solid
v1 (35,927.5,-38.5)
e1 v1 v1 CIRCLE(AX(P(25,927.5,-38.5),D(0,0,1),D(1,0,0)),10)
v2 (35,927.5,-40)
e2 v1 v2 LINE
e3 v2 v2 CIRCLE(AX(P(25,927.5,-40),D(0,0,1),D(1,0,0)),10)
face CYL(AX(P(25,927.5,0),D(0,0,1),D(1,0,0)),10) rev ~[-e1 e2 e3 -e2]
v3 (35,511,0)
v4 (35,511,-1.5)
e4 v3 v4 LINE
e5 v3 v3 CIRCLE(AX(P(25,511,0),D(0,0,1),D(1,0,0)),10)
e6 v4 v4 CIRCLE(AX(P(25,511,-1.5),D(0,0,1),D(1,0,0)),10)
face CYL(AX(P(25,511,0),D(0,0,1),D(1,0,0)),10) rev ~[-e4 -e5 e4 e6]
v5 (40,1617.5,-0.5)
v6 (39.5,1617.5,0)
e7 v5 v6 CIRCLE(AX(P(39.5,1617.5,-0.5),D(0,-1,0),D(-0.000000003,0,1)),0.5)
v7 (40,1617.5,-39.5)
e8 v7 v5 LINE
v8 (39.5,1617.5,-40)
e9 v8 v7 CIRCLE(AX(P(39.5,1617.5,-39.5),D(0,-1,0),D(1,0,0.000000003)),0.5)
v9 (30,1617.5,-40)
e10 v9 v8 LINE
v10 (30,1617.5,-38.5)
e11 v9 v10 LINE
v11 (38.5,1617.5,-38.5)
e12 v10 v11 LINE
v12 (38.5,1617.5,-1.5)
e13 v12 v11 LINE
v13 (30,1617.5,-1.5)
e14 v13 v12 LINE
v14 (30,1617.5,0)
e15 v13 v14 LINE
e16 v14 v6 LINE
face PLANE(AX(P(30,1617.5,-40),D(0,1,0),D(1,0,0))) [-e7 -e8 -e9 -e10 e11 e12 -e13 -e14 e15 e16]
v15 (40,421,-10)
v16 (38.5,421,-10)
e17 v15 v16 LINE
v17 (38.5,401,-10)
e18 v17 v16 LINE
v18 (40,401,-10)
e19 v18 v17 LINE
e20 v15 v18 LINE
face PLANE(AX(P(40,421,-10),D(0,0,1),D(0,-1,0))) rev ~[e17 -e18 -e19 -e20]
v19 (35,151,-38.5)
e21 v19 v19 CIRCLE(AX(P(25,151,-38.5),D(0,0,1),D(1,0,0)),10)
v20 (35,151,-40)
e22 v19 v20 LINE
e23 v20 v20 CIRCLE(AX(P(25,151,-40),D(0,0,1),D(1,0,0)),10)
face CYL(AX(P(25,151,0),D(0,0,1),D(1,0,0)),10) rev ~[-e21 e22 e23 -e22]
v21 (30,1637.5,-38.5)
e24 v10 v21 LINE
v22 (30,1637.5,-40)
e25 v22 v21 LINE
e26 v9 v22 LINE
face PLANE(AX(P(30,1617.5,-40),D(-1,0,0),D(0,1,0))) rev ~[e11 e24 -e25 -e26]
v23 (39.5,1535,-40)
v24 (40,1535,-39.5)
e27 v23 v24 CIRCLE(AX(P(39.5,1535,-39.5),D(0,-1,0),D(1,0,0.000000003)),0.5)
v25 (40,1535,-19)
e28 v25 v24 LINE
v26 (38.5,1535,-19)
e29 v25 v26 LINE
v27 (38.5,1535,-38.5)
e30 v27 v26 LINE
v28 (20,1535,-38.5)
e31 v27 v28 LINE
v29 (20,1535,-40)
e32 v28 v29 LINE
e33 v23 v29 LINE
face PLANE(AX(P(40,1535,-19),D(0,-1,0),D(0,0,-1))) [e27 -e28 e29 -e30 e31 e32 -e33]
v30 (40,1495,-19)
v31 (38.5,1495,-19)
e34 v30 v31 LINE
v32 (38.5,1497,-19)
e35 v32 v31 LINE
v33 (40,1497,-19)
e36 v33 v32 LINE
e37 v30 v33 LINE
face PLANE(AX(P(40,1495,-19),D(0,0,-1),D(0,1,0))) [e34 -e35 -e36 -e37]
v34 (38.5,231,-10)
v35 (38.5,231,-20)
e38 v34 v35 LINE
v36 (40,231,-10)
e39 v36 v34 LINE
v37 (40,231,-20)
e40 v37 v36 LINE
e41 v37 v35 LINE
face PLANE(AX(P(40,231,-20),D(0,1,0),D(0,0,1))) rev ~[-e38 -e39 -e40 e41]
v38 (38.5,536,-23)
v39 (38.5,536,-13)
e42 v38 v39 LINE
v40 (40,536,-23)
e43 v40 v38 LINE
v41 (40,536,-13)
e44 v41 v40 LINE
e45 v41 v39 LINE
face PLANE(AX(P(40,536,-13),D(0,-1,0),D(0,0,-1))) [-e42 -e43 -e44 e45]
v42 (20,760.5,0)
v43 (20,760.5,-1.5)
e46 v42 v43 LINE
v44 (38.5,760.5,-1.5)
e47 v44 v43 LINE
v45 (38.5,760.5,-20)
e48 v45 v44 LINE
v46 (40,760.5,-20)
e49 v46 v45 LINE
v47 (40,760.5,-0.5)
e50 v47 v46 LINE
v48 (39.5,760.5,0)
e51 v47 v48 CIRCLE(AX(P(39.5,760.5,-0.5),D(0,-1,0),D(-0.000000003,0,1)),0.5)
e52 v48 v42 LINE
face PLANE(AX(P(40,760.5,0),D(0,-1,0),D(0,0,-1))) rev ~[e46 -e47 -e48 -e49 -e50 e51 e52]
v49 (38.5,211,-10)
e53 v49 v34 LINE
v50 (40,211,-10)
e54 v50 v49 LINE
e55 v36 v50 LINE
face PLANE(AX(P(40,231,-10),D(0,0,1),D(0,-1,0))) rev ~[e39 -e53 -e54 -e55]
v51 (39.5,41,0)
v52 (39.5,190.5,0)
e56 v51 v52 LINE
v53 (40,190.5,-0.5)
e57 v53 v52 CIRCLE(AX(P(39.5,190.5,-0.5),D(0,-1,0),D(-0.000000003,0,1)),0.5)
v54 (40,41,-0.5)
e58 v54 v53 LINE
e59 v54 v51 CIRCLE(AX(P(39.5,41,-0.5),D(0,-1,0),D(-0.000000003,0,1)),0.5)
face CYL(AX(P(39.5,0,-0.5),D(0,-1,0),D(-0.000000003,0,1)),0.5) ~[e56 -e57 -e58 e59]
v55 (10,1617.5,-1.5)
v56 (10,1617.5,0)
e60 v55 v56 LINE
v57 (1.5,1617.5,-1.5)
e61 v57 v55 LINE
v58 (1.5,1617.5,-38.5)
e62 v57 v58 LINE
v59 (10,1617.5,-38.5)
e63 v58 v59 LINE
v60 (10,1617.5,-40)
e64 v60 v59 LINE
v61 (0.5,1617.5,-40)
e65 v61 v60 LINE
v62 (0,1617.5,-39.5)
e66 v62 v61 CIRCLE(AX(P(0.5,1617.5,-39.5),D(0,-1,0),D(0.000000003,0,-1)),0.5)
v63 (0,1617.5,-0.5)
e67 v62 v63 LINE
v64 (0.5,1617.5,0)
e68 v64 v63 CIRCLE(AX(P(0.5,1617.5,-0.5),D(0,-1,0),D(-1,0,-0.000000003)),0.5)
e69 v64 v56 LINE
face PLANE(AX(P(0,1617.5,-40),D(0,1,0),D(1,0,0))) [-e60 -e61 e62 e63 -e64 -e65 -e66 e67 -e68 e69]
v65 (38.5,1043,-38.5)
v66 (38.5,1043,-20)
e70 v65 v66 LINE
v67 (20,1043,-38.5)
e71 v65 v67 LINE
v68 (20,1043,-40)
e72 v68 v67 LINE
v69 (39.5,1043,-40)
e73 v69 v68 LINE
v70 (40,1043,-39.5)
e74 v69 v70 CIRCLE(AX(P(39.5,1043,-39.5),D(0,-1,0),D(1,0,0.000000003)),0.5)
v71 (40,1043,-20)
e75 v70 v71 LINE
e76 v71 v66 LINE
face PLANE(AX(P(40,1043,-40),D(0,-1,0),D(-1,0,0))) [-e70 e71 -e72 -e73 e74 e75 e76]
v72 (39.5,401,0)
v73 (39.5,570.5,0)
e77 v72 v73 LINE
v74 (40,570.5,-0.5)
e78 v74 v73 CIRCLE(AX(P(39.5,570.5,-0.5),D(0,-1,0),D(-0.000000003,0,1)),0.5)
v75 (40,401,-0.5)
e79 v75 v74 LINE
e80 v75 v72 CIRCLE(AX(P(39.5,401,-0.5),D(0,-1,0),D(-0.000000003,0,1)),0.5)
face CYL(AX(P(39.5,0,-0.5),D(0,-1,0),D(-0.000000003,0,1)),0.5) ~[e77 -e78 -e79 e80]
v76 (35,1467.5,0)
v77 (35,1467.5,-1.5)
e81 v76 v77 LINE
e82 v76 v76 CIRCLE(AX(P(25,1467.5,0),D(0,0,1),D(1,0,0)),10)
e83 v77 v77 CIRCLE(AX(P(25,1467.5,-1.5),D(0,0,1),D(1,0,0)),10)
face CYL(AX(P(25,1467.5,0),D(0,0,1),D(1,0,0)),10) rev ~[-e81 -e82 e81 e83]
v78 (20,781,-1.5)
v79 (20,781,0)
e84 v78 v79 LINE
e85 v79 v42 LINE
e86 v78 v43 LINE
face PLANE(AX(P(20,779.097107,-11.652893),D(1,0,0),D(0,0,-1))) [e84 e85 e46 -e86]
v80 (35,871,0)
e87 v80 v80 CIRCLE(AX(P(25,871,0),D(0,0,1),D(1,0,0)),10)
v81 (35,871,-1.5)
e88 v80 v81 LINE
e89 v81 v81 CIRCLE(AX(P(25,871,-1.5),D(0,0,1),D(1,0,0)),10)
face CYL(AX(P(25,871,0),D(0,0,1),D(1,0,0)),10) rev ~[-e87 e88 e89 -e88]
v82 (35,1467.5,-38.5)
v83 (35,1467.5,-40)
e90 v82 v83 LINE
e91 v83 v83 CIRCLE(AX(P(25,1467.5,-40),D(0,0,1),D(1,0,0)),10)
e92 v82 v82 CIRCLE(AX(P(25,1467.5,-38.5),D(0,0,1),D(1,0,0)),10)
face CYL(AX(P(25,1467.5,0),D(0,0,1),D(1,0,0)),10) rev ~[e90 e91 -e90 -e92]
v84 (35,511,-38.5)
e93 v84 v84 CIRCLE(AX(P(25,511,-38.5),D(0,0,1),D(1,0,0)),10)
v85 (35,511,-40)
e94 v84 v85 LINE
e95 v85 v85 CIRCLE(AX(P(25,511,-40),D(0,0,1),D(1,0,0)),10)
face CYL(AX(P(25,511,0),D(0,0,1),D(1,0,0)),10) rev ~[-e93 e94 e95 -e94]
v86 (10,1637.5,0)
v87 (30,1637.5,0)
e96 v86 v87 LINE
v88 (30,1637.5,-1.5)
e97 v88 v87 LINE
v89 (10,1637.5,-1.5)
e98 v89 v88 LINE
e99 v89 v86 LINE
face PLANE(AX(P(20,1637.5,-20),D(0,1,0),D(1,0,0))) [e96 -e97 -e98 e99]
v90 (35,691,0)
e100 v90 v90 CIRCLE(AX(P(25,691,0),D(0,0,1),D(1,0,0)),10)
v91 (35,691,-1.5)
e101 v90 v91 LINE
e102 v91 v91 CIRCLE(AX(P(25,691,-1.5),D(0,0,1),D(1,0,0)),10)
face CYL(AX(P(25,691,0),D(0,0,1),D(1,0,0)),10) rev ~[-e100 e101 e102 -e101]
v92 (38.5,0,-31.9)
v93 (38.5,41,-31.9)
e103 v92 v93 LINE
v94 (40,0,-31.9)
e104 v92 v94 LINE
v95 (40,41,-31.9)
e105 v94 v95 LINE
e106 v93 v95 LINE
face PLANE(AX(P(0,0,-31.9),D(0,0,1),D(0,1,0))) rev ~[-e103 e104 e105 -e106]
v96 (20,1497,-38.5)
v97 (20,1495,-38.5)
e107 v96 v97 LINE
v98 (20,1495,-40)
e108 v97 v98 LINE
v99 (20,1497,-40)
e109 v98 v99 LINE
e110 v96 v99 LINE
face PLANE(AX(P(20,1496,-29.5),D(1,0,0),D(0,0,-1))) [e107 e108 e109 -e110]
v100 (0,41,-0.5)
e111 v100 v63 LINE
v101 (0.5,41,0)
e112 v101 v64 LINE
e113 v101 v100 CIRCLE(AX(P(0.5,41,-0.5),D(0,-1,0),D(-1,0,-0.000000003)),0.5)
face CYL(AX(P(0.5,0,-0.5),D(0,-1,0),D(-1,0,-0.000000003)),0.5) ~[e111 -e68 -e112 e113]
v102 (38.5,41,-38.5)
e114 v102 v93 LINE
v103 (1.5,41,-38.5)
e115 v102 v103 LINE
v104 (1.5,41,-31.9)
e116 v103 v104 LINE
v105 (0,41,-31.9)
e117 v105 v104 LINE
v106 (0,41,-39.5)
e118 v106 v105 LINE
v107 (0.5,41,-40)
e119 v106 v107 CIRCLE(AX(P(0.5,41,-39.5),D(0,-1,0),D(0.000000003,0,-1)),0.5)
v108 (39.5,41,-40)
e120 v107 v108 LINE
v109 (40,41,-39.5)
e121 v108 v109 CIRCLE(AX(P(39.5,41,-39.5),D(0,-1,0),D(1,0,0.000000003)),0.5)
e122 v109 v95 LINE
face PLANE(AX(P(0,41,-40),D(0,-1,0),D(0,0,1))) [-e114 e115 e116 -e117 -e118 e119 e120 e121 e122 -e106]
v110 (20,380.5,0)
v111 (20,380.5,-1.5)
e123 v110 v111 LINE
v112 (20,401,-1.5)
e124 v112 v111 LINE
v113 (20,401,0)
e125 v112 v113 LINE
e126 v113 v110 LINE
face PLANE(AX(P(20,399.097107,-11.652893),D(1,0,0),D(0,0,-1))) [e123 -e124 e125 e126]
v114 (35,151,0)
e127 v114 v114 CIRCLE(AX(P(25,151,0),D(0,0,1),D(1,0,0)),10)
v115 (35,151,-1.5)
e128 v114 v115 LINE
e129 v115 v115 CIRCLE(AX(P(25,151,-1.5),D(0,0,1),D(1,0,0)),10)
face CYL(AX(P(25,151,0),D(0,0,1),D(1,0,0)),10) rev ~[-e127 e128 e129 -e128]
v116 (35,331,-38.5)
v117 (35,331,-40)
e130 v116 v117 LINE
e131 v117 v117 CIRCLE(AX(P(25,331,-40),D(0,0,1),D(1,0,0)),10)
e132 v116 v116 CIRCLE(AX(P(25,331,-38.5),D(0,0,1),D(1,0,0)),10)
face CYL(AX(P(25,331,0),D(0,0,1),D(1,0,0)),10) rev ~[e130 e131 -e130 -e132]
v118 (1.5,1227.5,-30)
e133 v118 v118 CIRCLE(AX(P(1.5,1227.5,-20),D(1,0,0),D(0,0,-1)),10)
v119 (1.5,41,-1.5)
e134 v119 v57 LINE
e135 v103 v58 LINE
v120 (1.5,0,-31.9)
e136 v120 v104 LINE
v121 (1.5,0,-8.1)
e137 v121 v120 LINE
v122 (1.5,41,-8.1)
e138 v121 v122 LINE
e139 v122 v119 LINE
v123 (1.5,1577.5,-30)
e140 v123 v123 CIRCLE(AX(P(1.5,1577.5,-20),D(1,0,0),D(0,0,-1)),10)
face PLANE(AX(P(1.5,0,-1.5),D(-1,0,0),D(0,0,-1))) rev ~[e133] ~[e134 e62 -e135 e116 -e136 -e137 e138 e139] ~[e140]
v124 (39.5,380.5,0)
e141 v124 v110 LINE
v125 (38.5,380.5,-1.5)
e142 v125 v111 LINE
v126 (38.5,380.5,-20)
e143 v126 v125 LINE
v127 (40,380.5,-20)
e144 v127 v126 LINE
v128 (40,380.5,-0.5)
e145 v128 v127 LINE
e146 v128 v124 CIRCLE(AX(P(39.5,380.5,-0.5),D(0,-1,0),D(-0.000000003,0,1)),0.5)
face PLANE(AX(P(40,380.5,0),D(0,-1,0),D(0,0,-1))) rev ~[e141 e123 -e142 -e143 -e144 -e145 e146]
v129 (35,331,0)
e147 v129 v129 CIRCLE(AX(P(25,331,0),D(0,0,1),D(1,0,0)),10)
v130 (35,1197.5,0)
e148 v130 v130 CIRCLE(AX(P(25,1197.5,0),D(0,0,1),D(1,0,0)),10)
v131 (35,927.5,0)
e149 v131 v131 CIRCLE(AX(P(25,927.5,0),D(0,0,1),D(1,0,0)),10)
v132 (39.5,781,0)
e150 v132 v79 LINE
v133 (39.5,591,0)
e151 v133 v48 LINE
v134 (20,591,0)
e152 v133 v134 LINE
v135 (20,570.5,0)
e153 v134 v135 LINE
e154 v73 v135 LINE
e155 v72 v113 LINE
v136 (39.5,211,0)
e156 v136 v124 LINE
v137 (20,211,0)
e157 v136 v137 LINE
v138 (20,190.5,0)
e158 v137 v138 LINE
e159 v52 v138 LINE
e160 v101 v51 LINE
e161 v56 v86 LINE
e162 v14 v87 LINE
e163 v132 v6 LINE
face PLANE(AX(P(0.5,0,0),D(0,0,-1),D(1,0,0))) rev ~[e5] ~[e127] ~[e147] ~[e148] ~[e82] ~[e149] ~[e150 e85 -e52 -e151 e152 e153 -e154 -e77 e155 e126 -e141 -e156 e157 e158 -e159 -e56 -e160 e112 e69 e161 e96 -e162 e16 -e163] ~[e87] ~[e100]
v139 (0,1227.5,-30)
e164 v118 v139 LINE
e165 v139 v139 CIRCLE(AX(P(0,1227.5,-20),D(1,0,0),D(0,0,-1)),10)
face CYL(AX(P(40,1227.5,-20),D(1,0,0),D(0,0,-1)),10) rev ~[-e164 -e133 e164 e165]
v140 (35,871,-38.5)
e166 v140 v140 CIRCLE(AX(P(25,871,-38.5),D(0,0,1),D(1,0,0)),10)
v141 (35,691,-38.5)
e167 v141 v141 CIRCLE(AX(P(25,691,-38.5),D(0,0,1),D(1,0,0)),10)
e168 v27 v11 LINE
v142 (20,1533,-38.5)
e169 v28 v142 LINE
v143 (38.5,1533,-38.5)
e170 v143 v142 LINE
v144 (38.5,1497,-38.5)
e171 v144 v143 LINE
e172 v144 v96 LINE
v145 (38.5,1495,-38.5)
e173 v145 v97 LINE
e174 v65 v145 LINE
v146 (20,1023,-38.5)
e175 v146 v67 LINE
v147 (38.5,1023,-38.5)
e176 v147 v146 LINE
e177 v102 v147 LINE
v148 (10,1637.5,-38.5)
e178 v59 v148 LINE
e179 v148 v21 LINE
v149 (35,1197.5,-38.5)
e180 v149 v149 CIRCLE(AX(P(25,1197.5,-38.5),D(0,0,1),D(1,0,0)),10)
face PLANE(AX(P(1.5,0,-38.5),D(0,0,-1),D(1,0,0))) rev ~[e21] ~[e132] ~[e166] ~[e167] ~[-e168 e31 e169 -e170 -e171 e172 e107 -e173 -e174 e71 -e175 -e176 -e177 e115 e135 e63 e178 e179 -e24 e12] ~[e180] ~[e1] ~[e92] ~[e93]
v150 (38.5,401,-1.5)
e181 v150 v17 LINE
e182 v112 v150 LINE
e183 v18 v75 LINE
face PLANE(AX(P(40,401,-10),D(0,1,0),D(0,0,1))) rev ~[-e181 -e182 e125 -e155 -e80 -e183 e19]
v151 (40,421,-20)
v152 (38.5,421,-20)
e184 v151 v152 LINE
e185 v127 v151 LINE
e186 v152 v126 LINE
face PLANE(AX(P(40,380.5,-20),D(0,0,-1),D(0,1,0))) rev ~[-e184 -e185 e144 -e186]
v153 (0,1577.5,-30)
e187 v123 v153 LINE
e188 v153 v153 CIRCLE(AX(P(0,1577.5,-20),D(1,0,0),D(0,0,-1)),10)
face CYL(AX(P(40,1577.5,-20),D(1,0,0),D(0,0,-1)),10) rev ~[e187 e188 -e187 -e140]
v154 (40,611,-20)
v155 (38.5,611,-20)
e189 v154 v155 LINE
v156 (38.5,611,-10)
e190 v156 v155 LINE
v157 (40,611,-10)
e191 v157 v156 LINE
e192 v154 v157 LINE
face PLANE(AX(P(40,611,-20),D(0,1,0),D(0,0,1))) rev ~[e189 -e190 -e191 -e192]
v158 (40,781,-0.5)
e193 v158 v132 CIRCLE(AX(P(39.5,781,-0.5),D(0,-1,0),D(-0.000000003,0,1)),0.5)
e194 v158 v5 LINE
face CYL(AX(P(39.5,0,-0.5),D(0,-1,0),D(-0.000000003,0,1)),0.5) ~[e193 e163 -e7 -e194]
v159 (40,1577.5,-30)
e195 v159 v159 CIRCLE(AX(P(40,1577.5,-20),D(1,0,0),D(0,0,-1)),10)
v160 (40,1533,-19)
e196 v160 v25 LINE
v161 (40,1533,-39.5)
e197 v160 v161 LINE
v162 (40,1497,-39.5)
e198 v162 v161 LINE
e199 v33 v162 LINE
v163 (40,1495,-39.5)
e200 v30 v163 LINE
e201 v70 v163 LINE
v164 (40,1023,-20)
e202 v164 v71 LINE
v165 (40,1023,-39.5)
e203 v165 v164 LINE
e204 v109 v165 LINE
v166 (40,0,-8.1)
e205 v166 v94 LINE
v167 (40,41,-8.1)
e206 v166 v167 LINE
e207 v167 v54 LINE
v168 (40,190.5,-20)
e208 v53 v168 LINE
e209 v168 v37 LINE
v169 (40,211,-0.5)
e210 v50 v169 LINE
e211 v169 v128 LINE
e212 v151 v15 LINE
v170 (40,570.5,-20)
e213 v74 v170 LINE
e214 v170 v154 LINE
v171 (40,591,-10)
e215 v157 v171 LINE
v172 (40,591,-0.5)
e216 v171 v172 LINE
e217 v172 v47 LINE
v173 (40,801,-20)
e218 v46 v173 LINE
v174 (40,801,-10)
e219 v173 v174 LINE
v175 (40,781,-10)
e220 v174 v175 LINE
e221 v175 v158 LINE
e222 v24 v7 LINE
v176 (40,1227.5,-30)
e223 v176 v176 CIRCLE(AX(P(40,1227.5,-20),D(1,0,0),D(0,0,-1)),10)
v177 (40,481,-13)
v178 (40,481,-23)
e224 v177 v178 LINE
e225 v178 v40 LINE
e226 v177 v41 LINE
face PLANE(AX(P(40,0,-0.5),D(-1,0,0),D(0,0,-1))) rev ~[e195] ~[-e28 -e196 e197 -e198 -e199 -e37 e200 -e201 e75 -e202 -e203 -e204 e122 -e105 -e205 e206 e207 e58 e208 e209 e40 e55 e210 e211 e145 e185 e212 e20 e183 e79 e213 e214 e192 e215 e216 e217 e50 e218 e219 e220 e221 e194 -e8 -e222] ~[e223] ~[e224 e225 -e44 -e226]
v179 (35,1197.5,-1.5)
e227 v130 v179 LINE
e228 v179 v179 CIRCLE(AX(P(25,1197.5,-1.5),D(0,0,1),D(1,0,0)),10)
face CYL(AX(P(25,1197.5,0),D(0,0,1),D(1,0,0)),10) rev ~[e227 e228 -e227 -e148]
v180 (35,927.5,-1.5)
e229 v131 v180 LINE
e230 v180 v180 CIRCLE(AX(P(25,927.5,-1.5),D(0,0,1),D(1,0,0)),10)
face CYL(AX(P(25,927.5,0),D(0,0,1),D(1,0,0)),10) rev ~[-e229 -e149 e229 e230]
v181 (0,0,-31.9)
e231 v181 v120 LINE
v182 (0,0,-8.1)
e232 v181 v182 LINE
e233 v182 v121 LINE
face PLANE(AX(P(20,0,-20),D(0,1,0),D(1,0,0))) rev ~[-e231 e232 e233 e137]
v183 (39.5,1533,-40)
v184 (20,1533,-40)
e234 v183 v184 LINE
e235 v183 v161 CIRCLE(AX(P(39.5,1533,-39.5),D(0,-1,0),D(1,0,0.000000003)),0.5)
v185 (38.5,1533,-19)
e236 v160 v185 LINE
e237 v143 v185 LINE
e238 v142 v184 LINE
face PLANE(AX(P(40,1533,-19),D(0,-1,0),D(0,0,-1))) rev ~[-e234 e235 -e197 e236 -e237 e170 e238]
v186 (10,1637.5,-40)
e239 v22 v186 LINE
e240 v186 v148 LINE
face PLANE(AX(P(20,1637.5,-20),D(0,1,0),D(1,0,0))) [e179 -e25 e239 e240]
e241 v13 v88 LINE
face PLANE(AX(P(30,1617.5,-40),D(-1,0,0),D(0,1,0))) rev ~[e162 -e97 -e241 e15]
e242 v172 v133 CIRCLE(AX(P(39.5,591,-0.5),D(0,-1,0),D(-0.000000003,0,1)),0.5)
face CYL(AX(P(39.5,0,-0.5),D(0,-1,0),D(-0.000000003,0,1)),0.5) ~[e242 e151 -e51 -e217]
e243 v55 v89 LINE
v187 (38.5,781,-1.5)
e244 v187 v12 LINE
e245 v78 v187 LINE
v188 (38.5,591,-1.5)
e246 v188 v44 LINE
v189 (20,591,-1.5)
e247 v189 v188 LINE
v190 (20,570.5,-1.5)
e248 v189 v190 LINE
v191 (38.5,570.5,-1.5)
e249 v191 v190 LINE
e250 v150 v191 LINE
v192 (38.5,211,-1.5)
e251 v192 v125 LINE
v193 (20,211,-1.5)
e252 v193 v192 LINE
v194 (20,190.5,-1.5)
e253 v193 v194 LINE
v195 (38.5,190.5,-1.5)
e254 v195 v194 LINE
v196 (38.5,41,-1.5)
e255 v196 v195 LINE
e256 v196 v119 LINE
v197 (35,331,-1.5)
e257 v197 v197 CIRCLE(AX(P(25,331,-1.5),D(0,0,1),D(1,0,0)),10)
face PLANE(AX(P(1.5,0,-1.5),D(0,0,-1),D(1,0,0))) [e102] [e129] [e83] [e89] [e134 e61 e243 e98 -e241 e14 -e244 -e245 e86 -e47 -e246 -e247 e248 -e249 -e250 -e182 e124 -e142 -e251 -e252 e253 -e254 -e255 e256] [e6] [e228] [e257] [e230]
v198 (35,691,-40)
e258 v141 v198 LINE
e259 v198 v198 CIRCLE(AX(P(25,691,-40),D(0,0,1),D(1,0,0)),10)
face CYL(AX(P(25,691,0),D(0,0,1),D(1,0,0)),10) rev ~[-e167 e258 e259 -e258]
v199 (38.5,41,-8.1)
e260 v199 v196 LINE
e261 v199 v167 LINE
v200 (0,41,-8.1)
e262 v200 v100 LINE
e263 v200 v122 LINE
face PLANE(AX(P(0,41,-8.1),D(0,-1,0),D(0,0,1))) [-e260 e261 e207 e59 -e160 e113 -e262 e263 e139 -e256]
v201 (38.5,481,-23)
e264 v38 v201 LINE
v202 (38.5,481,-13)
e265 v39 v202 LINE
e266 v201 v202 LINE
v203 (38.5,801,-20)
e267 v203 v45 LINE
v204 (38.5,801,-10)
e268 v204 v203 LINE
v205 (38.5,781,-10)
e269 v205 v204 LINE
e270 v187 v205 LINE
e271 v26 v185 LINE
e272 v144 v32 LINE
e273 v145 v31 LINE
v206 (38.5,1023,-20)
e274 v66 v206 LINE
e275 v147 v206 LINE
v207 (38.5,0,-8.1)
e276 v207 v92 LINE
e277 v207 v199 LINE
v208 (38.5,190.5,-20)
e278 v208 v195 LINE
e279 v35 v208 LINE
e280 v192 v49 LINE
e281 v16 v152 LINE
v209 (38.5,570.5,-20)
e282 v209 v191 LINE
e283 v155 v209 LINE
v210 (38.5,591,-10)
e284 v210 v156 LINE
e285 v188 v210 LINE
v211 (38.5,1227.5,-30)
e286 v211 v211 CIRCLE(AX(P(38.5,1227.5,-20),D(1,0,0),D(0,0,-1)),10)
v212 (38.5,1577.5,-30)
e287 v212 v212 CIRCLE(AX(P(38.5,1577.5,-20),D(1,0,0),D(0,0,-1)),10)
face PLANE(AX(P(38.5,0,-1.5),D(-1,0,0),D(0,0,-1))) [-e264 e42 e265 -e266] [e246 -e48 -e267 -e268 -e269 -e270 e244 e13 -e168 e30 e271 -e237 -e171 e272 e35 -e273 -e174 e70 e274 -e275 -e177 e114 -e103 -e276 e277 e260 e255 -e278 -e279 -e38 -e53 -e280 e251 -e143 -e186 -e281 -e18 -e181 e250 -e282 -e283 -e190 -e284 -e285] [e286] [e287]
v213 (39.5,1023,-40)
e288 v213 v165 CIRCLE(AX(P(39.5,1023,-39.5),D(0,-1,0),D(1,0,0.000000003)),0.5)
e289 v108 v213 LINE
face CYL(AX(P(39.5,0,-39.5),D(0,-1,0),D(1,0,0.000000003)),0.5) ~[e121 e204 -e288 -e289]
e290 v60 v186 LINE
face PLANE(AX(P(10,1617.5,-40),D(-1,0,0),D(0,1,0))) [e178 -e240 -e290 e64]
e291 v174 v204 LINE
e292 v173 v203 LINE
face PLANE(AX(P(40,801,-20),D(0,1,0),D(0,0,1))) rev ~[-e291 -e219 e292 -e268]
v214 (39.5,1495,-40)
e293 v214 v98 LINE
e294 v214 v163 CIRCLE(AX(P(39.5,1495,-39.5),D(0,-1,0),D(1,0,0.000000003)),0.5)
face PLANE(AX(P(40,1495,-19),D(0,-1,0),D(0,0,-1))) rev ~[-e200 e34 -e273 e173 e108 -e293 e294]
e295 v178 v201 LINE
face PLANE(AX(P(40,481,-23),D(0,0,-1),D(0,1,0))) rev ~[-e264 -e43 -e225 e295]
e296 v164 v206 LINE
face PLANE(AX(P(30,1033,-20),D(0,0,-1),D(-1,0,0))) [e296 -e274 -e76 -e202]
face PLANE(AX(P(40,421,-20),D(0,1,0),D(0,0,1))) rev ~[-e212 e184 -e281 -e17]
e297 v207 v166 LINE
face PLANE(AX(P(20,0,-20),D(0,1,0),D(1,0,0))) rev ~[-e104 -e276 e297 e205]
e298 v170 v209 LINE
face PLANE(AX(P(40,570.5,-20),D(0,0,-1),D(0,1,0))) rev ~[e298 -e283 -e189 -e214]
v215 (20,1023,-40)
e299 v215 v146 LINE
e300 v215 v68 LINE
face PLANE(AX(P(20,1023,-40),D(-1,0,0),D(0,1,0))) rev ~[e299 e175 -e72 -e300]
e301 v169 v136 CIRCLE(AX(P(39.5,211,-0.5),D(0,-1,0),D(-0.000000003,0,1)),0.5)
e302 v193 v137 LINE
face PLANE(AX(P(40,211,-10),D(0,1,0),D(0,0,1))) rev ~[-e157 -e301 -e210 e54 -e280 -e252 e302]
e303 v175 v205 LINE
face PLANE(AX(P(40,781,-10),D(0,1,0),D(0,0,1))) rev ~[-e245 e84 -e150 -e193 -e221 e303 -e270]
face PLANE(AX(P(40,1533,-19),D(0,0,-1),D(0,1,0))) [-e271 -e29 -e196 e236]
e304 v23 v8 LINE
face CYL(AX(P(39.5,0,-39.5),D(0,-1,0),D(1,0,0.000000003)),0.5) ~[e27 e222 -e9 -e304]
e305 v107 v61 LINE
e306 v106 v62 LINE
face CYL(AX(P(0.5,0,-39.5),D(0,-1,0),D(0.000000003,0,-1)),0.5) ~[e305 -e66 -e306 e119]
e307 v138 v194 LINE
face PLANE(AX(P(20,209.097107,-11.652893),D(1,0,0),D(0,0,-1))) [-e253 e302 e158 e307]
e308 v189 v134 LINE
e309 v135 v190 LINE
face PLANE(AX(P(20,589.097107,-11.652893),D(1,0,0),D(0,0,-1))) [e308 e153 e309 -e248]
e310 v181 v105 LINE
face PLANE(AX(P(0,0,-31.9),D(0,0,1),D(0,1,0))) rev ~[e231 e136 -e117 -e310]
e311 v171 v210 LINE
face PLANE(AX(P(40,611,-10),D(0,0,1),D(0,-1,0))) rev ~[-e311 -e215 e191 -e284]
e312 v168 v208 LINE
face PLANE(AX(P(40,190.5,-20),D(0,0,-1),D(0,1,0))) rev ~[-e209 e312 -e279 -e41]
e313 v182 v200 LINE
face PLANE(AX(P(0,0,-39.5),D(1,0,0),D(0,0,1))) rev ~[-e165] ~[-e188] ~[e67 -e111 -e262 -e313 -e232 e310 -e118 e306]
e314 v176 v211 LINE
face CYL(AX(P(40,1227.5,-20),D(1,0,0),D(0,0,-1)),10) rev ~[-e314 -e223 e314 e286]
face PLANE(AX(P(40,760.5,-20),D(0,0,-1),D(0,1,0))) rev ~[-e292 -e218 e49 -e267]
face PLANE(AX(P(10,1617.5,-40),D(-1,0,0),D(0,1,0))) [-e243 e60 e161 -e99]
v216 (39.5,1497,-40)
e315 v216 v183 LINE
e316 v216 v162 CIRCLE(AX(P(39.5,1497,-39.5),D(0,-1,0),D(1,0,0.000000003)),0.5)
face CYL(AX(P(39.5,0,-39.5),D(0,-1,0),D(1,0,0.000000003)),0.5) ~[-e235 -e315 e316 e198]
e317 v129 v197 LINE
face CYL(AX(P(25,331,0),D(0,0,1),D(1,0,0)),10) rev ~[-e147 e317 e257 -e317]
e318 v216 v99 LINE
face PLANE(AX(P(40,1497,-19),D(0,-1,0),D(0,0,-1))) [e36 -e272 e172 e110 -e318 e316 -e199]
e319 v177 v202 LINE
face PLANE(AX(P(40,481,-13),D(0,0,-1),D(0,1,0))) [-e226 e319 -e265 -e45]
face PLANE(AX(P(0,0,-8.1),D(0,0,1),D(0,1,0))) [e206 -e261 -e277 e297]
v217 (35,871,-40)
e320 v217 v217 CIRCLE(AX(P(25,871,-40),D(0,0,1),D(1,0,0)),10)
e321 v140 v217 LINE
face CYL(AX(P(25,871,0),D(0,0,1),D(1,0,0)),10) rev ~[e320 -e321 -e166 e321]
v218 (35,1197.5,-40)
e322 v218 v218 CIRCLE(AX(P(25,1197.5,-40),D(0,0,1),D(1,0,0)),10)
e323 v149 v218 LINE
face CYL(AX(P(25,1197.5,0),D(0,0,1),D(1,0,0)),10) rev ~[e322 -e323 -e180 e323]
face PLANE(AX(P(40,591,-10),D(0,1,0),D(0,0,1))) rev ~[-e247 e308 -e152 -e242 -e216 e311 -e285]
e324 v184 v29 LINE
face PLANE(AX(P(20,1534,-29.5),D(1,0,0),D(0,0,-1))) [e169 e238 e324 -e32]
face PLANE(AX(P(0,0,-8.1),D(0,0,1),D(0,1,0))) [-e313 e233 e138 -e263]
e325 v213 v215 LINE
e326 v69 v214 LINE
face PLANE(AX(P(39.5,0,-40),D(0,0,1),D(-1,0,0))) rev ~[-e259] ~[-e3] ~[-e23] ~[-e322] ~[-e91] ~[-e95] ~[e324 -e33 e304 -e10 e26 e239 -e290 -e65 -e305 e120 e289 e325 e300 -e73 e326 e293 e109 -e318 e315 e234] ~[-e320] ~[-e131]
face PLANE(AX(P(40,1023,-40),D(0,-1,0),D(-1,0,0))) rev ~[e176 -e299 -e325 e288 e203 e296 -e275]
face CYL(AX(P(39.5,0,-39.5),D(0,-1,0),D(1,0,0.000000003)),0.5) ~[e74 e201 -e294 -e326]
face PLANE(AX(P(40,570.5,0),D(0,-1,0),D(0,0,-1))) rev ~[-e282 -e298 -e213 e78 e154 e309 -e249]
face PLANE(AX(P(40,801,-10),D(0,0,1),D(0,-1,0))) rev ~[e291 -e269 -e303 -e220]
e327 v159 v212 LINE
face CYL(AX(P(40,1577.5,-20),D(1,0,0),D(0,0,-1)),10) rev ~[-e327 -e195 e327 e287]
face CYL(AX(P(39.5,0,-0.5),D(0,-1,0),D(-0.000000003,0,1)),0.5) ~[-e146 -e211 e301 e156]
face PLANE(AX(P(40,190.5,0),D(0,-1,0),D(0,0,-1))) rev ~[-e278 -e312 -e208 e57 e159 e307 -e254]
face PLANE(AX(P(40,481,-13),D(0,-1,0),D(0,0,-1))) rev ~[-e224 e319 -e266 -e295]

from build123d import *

# Parameters (mm, degrees)
SKETCH1_W           = 37
SKETCH1_H           = 37
BOSS_EXTRUDE1_DEPTH = 1637.5
SKETCH2_W           = 10
SKETCH2_H           = 20
CUT_EXTRUDE1_DEPTH  = 40
SKETCH3_W           = 21
SKETCH3_H           = 2
CUT_EXTRUDE2_DEPTH  = 20
SKETCH4_W           = 8.1
SKETCH4_H           = 41
CUT_EXTRUDE3_DEPTH  = 1639.476807892
CUT_EXTRUDE4_DEPTH  = 20
SKETCH6_W           = 20
SKETCH6_H           = 20
CUT_EXTRUDE5_DEPTH  = 20
SKETCH7_R           = 10
CUT_EXTRUDE6_DEPTH  = 1639.476807892
SKETCH8_R           = 10
CUT_EXTRUDE7_DEPTH  = 1639.476807892
SKETCH9_W           = 10
SKETCH9_H           = 55
CUT_EXTRUDE8_DEPTH  = 10


with BuildPart() as part:
    # Sketch1 → Boss-Extrude1 (new body)
    with BuildSketch(Plane(origin=(0, 0, 0), x_dir=(1, 0, 0), z_dir=(0, 1, 0))):
        with BuildLine():
            Line((0.5, 0), (39.5, 0))
            ThreePointArc((39.5, 0), (39.853553391, 0.146446609), (40, 0.5))
            Line((40, 0.5), (40, 39.5))
            ThreePointArc((40, 39.5), (39.853553391, 39.853553391), (39.5, 40))
            Line((39.5, 40), (0.5, 40))
            ThreePointArc((0.5, 40), (0.146446609, 39.853553391), (0, 39.5))
            Line((0, 39.5), (0, 0.5))
            ThreePointArc((0, 0.5), (0.146446609, 0.146446609), (0.5, 0))
        make_face()
        with Locations((20, 20)):
            Rectangle(SKETCH1_W, SKETCH1_H, mode=Mode.SUBTRACT)
    extrude(amount=BOSS_EXTRUDE1_DEPTH)

    # Sketch2 → Cut-Extrude1 (cut)
    with BuildSketch(Plane.XY.offset(-40)):
        with Locations((35, 1627.5)):
            Rectangle(SKETCH2_W, SKETCH2_H)
        with Locations((5, 1627.5)):
            Rectangle(SKETCH2_W, SKETCH2_H)
    extrude(amount=CUT_EXTRUDE1_DEPTH, mode=Mode.SUBTRACT)

    # Sketch3 → Cut-Extrude2 (cut)
    with BuildSketch(Plane(origin=(40, 0, 0), x_dir=(0, 0, -1), z_dir=(1, 0, 0))):
        with Locations((29.5, 1534)):
            Rectangle(SKETCH3_W, SKETCH3_H)
        with Locations((29.5, 1496)):
            Rectangle(SKETCH3_W, SKETCH3_H)
    extrude(amount=-CUT_EXTRUDE2_DEPTH, mode=Mode.SUBTRACT)

    # Sketch4 → Cut-Extrude3 (cut, through all)
    with BuildSketch(Plane.ZY):
        with Locations((-4.05, 20.5)):
            Rectangle(SKETCH4_W, SKETCH4_H)
        with Locations((-35.95, 20.5)):
            Rectangle(SKETCH4_W, SKETCH4_H)
    extrude(amount=-CUT_EXTRUDE3_DEPTH, mode=Mode.SUBTRACT)

    # Sketch5 → Cut-Extrude4 (cut)
    with BuildSketch(Plane(origin=(40, 0, -40), x_dir=(0, 0, 1), z_dir=(-1, 0, 0))):
        Polygon((40, 190.5), (20, 190.5), (20, 231), (30, 231), (30, 211), (40, 211), align=None)
        Polygon((40, 380.5), (20, 380.5), (20, 421), (30, 421), (30, 401), (40, 401), align=None)
        Polygon((40, 570.5), (20, 570.5), (20, 611), (30, 611), (30, 591), (40, 591), align=None)
        Polygon((40, 760.5), (20, 760.5), (20, 801), (30, 801), (30, 781), (40, 781), align=None)
    extrude(amount=CUT_EXTRUDE4_DEPTH, mode=Mode.SUBTRACT)

    # Sketch6 → Cut-Extrude5 (cut)
    with BuildSketch(Plane(origin=(0, 0, -40), x_dir=(-1, 0, 0), z_dir=(0, 0, -1))):
        with Locations((-30, 1033)):
            Rectangle(SKETCH6_W, SKETCH6_H)
    extrude(amount=-CUT_EXTRUDE5_DEPTH, mode=Mode.SUBTRACT)

    # Sketch7 → Cut-Extrude6 (cut, through all)
    with BuildSketch(Plane(origin=(40, 0, 0), x_dir=(0, 0, -1), z_dir=(1, 0, 0))):
        with Locations((20, 1577.5)):
            Circle(SKETCH7_R)
        with Locations((20, 1227.5)):
            Circle(SKETCH7_R)
    extrude(amount=-CUT_EXTRUDE6_DEPTH, mode=Mode.SUBTRACT)

    # Sketch8 → Cut-Extrude7 (cut, through all)
    with BuildSketch(Plane.XY):
        with Locations((25, 1467.5)):
            Circle(SKETCH8_R)
        with Locations((25, 1197.5)):
            Circle(SKETCH8_R)
        with Locations((25, 927.5)):
            Circle(SKETCH8_R)
        with Locations((25, 151)):
            Circle(SKETCH8_R)
        with Locations((25, 331)):
            Circle(SKETCH8_R)
        with Locations((25, 511)):
            Circle(SKETCH8_R)
        with Locations((25, 691)):
            Circle(SKETCH8_R)
        with Locations((25, 871)):
            Circle(SKETCH8_R)
    extrude(amount=-CUT_EXTRUDE7_DEPTH, mode=Mode.SUBTRACT)

    # Sketch9 → Cut-Extrude8 (cut)
    with BuildSketch(Plane(origin=(40, 0, 0), x_dir=(0, 0, -1), z_dir=(1, 0, 0))):
        with Locations((18, 508.5)):
            Rectangle(SKETCH9_W, SKETCH9_H)
    extrude(amount=-CUT_EXTRUDE8_DEPTH, mode=Mode.SUBTRACT)


solid = part.part
